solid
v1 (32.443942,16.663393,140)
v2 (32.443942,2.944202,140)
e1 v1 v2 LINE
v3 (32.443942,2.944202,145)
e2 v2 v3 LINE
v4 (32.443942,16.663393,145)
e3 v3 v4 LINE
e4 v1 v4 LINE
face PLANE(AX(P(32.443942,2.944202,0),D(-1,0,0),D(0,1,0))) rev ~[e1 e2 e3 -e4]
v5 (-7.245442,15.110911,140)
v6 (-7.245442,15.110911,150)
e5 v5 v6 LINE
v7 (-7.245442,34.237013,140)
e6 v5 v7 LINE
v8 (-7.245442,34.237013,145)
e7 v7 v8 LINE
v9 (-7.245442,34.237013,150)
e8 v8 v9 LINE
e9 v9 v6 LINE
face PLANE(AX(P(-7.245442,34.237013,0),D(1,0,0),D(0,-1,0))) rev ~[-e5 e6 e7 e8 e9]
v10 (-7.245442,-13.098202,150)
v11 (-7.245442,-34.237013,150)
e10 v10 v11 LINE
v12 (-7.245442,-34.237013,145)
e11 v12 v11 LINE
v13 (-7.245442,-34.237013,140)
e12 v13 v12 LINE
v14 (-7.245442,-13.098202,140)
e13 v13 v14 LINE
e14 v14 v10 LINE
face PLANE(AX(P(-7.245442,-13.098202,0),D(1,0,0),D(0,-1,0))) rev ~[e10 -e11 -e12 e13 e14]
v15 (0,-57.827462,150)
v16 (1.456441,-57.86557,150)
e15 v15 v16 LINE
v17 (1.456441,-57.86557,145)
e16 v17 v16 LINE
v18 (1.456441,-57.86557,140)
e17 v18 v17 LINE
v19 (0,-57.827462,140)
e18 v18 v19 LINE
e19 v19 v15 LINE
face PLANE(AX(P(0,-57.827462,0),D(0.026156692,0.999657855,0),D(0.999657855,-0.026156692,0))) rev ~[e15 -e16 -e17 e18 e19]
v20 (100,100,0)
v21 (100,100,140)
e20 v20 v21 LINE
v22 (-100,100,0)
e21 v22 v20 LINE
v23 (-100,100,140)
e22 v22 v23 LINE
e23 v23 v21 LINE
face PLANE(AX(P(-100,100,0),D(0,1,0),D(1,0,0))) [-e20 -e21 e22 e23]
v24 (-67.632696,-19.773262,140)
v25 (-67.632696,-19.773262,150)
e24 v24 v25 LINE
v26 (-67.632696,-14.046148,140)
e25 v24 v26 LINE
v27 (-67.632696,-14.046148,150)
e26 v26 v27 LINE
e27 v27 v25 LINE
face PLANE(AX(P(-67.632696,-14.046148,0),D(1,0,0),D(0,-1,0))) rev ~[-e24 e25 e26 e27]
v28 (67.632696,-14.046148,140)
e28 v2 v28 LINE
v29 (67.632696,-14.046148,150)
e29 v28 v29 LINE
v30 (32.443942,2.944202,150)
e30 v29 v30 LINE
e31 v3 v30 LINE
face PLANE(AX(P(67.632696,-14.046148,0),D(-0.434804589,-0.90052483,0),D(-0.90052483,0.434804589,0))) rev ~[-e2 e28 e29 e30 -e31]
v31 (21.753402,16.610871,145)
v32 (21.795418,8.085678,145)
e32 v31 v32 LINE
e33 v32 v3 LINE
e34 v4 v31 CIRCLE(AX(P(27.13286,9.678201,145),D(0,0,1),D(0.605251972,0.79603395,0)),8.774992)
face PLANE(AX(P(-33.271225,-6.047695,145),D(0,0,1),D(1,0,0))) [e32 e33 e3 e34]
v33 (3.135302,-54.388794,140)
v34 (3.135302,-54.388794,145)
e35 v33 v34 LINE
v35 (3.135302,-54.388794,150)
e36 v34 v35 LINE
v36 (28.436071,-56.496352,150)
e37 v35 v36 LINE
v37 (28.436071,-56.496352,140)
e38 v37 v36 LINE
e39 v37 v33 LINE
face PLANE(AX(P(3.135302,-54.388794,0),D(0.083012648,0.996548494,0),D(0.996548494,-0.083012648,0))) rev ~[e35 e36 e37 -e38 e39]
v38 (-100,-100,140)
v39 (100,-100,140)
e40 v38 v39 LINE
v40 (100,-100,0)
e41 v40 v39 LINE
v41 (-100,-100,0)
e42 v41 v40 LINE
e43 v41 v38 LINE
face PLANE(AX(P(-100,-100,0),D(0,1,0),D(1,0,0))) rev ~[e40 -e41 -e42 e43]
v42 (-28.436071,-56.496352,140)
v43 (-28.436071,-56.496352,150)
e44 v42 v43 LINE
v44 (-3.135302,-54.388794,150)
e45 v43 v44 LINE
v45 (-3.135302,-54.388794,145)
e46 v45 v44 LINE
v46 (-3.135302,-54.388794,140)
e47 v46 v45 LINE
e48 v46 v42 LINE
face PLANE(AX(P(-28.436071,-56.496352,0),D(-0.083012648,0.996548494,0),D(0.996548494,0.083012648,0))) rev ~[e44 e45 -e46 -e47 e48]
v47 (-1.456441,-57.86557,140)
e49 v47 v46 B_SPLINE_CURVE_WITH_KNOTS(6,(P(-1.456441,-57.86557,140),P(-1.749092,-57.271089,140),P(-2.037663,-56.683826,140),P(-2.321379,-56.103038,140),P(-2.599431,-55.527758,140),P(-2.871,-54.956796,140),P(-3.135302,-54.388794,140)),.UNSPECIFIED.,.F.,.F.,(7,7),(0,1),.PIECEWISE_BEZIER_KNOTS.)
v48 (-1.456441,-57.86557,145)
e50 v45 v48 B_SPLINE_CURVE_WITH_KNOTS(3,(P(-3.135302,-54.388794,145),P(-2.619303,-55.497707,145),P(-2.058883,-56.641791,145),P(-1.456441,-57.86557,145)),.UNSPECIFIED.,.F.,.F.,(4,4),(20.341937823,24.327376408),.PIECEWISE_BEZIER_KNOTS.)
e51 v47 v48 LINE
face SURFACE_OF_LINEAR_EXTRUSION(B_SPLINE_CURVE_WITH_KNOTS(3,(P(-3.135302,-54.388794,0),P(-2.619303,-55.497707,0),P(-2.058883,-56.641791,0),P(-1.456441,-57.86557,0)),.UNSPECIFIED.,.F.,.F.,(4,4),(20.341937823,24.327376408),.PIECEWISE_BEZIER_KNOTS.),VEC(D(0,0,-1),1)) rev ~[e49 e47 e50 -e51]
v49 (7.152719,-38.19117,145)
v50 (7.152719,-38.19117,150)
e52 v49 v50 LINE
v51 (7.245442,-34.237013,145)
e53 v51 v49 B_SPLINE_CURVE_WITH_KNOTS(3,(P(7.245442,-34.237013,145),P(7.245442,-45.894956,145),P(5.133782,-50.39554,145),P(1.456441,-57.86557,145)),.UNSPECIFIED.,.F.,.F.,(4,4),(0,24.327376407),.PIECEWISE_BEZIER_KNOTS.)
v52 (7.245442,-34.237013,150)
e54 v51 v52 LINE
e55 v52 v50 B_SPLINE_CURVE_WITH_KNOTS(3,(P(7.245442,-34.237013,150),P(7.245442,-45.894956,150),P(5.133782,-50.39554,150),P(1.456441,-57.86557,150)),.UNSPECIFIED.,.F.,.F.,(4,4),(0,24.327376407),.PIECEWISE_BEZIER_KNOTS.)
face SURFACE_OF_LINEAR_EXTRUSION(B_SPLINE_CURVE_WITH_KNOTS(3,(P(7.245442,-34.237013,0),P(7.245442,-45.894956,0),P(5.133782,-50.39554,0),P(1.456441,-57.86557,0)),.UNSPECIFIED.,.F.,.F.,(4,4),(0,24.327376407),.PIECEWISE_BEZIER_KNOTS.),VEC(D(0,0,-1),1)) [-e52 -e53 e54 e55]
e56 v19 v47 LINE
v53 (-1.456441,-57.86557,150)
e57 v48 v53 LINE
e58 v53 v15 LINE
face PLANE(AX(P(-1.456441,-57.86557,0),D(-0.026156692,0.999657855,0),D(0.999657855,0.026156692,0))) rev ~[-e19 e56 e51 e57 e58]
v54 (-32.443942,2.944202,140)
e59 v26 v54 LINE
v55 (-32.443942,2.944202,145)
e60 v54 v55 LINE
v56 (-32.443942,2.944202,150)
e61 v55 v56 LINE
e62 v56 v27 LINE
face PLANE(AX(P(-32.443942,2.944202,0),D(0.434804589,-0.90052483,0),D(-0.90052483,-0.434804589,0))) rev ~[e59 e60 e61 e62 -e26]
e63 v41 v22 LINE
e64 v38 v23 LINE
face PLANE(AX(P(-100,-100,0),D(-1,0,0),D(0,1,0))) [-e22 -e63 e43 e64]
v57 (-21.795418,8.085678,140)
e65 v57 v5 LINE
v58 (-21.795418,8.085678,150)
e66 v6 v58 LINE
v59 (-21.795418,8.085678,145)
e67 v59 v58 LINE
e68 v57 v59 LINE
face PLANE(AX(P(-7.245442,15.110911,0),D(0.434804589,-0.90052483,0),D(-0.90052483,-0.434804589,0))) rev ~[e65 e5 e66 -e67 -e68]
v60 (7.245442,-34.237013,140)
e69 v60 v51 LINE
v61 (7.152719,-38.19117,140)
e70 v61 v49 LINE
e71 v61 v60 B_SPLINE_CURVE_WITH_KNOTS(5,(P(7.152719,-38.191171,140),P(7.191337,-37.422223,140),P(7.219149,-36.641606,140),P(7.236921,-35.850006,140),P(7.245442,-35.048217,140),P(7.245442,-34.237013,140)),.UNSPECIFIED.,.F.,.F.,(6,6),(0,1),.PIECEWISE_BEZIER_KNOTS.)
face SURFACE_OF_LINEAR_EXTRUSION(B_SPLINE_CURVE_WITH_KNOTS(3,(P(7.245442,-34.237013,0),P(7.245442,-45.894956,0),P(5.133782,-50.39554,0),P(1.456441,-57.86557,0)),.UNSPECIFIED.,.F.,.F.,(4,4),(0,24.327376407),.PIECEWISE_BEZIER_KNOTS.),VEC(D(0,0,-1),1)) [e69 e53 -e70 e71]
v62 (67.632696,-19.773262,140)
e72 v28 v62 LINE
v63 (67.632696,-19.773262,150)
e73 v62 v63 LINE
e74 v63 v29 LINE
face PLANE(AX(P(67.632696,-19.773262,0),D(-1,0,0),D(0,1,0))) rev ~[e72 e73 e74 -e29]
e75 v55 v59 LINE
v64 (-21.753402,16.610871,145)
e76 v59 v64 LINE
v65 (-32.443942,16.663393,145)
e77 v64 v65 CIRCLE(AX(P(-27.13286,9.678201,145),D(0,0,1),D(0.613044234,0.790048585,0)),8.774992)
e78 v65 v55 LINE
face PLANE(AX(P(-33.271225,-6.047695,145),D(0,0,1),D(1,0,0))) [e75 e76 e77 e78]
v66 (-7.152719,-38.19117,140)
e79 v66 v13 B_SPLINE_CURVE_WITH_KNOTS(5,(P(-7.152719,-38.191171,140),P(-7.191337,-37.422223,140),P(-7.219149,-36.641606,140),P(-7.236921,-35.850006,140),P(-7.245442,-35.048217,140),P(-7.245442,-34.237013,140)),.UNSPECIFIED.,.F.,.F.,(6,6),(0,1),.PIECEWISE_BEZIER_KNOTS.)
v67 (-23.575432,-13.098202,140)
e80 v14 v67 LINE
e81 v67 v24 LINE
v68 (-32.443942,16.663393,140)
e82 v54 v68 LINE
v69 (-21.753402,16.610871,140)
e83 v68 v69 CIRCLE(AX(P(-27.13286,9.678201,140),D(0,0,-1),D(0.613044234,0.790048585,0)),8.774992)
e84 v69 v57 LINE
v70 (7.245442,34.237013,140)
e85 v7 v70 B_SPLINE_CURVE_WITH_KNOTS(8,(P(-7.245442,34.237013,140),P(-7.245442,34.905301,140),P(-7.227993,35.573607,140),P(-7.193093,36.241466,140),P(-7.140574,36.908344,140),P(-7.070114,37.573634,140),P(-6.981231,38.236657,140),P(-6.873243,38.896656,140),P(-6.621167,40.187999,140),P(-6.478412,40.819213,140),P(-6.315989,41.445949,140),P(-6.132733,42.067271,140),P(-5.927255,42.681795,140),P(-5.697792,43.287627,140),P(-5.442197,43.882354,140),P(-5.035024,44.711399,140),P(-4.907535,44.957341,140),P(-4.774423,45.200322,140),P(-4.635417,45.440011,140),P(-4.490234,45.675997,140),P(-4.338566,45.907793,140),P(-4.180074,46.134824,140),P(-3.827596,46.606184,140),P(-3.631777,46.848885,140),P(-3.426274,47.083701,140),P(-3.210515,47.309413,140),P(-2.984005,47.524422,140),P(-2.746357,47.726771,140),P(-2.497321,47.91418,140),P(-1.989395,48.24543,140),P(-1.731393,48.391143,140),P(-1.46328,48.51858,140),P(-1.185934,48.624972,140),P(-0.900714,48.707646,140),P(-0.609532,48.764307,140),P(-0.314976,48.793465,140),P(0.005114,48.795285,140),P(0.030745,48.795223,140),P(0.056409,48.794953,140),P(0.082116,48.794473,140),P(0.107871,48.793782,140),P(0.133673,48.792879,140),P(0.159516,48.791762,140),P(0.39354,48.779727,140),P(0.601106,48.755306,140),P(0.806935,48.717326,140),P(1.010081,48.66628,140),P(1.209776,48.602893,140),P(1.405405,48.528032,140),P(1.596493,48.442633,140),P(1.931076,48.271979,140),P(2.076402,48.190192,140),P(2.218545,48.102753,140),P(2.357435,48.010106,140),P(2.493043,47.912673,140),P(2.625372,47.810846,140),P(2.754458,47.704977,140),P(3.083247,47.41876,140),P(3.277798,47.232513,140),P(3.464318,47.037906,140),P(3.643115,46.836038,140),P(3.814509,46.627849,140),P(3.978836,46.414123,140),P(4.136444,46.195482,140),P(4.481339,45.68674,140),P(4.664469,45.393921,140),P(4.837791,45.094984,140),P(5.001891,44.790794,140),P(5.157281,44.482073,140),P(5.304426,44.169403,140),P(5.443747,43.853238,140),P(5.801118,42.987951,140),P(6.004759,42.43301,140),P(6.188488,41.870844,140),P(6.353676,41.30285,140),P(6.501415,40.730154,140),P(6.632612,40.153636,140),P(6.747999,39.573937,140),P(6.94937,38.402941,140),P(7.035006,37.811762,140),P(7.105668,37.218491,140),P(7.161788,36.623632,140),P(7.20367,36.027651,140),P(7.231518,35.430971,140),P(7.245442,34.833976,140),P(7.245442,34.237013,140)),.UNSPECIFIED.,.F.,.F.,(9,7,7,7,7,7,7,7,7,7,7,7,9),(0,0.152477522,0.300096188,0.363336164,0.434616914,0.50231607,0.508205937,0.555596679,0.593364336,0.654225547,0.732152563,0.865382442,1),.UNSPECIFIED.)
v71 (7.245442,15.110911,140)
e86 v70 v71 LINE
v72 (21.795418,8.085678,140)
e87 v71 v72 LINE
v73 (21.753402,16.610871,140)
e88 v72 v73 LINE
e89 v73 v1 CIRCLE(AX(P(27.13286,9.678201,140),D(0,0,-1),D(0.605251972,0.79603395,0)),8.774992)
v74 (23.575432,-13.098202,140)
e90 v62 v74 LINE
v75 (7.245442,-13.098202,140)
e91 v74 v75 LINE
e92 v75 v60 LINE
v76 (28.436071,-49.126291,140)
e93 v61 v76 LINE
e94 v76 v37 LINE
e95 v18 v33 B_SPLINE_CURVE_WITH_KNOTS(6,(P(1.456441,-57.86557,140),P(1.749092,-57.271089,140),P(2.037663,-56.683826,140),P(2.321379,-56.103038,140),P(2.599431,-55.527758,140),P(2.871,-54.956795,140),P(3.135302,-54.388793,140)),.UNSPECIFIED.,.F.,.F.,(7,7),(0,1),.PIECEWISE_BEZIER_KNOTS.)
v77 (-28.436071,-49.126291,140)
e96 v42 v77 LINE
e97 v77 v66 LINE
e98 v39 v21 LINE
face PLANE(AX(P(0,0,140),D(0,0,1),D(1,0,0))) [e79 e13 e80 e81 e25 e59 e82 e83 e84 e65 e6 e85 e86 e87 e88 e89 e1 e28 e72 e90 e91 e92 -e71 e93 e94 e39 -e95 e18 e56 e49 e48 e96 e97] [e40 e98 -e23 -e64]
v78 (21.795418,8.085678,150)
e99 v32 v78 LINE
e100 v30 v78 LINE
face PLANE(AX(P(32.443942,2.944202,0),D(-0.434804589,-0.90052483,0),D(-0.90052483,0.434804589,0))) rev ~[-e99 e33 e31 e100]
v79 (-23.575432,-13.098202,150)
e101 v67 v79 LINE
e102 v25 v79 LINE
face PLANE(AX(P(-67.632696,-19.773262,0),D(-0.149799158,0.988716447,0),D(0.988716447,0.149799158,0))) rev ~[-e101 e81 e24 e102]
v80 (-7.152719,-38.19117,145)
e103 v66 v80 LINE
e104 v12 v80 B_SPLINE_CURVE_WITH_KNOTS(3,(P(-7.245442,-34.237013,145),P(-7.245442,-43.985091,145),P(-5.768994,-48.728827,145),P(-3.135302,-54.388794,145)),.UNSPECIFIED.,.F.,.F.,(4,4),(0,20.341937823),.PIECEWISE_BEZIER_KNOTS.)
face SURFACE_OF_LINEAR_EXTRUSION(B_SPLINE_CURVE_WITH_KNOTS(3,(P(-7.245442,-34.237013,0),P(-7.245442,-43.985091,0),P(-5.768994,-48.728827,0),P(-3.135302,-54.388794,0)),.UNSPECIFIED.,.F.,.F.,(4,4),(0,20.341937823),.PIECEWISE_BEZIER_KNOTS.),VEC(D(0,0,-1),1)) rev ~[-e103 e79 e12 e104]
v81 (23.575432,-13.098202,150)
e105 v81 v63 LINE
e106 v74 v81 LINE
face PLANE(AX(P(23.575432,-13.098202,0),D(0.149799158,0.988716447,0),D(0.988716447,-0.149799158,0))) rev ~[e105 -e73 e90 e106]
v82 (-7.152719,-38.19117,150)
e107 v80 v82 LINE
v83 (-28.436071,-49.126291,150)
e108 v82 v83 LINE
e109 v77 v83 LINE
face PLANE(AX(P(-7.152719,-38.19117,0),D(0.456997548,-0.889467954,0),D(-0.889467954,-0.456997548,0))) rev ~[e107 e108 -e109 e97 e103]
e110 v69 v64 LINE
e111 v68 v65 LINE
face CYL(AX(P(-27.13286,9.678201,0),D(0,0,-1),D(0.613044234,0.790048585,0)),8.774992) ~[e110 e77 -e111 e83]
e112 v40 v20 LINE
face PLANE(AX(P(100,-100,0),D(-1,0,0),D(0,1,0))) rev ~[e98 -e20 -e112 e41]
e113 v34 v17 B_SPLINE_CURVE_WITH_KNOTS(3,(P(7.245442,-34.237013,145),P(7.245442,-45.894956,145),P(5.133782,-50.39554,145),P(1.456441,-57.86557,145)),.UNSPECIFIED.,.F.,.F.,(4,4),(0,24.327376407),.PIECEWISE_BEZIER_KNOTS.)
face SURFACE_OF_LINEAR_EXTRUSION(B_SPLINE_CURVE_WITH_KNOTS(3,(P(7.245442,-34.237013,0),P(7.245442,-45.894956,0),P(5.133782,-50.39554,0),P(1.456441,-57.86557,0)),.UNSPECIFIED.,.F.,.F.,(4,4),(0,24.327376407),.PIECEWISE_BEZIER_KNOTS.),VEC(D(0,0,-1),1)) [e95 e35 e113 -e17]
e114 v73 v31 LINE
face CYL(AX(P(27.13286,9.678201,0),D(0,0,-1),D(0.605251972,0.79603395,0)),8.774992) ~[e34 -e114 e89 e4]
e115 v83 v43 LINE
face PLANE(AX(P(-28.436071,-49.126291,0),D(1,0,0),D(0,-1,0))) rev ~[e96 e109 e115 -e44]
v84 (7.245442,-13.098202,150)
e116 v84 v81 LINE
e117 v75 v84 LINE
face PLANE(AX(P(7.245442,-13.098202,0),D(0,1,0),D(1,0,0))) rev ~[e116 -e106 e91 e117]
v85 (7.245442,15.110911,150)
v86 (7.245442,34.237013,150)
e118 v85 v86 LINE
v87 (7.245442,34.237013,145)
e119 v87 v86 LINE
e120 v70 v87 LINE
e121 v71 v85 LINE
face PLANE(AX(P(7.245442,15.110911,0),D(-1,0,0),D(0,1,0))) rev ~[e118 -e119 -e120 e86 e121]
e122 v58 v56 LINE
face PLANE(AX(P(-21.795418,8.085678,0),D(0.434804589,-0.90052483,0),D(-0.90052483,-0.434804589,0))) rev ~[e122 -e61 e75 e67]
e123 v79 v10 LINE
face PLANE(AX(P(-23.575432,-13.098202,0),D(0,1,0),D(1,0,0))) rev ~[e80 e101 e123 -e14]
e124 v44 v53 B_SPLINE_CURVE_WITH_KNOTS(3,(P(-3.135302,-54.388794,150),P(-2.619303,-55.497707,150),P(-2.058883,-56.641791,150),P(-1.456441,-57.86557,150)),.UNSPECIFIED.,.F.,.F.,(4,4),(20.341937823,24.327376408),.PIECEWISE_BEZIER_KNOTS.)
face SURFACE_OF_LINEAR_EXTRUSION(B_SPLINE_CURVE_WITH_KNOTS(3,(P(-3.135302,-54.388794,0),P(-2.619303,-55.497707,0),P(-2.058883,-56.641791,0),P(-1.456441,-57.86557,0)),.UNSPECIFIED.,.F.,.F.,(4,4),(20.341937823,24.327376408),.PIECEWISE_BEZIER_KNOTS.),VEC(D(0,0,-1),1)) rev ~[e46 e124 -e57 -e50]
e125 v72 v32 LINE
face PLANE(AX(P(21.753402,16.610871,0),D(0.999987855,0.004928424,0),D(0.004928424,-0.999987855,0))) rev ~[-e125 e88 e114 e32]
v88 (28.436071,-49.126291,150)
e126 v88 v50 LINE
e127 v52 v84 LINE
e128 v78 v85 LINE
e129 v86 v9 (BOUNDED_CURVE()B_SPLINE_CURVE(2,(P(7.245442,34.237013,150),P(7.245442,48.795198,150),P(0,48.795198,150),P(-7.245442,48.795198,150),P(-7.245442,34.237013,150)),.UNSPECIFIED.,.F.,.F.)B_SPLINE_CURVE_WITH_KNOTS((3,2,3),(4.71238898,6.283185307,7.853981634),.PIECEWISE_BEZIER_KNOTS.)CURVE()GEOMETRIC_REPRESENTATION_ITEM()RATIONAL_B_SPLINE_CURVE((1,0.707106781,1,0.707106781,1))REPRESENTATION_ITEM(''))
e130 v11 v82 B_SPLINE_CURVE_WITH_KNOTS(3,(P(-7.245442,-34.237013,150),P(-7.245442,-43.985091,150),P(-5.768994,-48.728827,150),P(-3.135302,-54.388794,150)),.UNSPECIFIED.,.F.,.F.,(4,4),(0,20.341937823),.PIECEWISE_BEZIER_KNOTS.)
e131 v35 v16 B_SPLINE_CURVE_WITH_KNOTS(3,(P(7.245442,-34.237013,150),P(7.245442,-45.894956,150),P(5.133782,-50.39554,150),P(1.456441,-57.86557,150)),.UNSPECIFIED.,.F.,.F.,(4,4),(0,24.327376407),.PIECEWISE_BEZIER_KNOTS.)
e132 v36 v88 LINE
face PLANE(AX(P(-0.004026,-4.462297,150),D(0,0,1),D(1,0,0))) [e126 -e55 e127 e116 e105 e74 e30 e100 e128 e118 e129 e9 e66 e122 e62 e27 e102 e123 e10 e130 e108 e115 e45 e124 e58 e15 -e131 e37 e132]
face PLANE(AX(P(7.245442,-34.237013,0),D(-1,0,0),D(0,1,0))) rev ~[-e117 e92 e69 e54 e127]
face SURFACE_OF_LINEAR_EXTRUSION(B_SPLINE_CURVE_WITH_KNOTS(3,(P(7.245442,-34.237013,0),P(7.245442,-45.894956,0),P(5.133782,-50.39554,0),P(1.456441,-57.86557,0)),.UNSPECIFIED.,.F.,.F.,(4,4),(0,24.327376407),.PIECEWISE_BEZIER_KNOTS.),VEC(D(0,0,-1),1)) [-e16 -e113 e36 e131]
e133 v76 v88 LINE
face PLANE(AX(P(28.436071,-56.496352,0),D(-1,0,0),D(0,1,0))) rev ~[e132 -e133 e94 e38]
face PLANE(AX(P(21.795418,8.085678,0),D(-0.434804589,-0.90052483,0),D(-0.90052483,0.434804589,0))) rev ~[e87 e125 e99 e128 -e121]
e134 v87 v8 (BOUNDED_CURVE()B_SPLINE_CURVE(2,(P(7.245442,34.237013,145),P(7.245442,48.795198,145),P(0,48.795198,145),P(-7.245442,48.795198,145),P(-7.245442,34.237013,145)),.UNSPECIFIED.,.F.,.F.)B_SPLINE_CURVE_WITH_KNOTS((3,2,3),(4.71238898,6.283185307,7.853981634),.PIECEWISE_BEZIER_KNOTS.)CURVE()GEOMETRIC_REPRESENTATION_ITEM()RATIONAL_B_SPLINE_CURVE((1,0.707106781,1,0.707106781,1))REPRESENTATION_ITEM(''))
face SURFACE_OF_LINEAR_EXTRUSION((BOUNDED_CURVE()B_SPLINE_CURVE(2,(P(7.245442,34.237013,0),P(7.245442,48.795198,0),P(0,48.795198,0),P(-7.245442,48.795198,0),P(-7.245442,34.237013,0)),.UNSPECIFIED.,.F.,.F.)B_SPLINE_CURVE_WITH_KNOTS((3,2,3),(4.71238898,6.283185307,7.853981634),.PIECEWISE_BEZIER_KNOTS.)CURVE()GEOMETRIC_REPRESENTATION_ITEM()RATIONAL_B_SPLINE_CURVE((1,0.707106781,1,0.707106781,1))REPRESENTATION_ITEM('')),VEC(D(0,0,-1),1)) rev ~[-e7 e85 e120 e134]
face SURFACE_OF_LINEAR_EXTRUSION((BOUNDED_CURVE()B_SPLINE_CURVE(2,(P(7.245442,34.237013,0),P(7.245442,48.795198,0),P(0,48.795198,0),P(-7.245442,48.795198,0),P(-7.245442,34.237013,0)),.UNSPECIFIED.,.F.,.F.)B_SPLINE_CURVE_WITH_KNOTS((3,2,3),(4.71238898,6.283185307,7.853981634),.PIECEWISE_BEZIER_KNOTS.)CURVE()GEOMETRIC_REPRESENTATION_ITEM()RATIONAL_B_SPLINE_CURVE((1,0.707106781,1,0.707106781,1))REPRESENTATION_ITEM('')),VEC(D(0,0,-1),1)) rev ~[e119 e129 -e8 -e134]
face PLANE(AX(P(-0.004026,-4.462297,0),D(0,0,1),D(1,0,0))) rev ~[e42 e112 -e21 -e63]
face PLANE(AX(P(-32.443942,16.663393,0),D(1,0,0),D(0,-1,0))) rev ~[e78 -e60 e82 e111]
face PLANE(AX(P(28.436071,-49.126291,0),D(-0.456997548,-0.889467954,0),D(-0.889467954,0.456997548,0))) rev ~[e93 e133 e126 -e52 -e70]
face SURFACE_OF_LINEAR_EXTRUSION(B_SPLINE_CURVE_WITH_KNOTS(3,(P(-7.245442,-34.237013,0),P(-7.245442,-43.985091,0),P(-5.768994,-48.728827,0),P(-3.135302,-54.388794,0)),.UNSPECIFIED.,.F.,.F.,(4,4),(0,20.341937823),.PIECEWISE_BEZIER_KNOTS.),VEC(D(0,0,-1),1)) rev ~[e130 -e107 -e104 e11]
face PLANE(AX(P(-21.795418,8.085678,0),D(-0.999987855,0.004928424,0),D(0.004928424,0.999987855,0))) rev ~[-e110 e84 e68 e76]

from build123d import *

# Parameters (mm, degrees)
F0_W     = 200
F0_H     = 200
F1_DEPTH = 140
F2_DEPTH = 140
F3_DEPTH = 145
F4_DEPTH = 150
F5_DEPTH = 130


with BuildPart() as f1:
    # F0 (on Top) → F1 (new body)
    with BuildSketch(Plane.XY):
        Rectangle(F0_W, F0_H)
        with BuildLine():
            add(Edge.make_bspline(
                [(7.2454415782, 34.2370129494), (7.2454415782, 48.7951978413), (0, 48.7951978413), (-7.2454415782, 48.7951978413), (-7.2454415782, 34.2370129494)],
                knots=[4.7123889804, 4.7123889804, 4.7123889804, 6.2831853072, 6.2831853072, 7.853981634, 7.853981634, 7.853981634], degree=2, weights=[1, 0.7071067812, 1, 0.7071067812, 1]))
            Line((7.2454415782, 34.2370129494), (7.2454415782, 15.1109112501))
            Line((7.2454415782, 15.1109112501), (21.7954180783, 8.0856784731))
            Line((21.7954180783, 8.0856784731), (21.7534018032, 16.610871316))
            ThreePointArc((21.7534018032, 16.610871316), (27.0897500943, 18.4530874606), (32.4439415934, 16.6633928502))
            Line((32.4439415934, 16.6633928502), (32.4439415934, 2.9442023734))
            Line((32.4439415934, 2.9442023734), (67.6326961509, -14.0461475353))
            Line((67.6326961509, -14.0461475353), (67.6326961509, -19.7732619358))
            Line((67.6326961509, -19.7732619358), (23.5754315722, -13.0982023901))
            Line((23.5754315722, -13.0982023901), (7.2454415782, -13.0982023901))
            Line((7.2454415782, -13.0982023901), (7.2454415782, -34.2370129494))
            add(Edge.make_bspline(
                [(7.2454415782, -34.2370129494), (7.2454415782, -35.6548618262), (7.2142066873, -36.9668416965), (7.1527191063, -38.1911703848)],
                knots=[0, 0, 0, 0, 2.9587160624, 2.9587160624, 2.9587160624, 2.9587160624], degree=3))
            Line((7.1527191063, -38.1911703848), (28.4360707366, -49.1262911818))
            Line((28.4360707366, -49.1262911818), (28.4360707366, -56.4963517135))
            Line((28.4360707366, -56.4963517135), (3.1353018663, -54.3887936468))
            add(Edge.make_bspline(
                [(3.1353018663, -54.3887936468), (2.61930295, -55.4977071467), (2.0588825896, -56.641790632), (1.4564413795, -57.8655702387)],
                knots=[20.3419378234, 20.3419378234, 20.3419378234, 20.3419378234, 24.3273764075, 24.3273764075, 24.3273764075, 24.3273764075], degree=3))
            Line((1.4564413795, -57.8655702387), (0, -57.8274615109))
            Line((0, -57.8274615109), (-1.4564413795, -57.8655702387))
            add(Edge.make_bspline(
                [(-3.1353018663, -54.3887936468), (-2.61930295, -55.4977071467), (-2.0588825896, -56.641790632), (-1.4564413795, -57.8655702387)],
                knots=[20.3419378234, 20.3419378234, 20.3419378234, 20.3419378234, 24.3273764075, 24.3273764075, 24.3273764075, 24.3273764075], degree=3))
            Line((-3.1353018663, -54.3887936468), (-28.4360707366, -56.4963517135))
            Line((-28.4360707366, -56.4963517135), (-28.4360707366, -49.1262911818))
            Line((-28.4360707366, -49.1262911818), (-7.1527191063, -38.1911703848))
            add(Edge.make_bspline(
                [(-7.2454415782, -34.2370129494), (-7.2454415782, -35.6548618262), (-7.2142066873, -36.9668416965), (-7.1527191063, -38.1911703848)],
                knots=[0, 0, 0, 0, 2.9587160624, 2.9587160624, 2.9587160624, 2.9587160624], degree=3))
            Line((-7.2454415782, -34.2370129494), (-7.2454415782, -13.0982023901))
            Line((-7.2454415782, -13.0982023901), (-23.5754315722, -13.0982023901))
            Line((-23.5754315722, -13.0982023901), (-67.6326961509, -19.7732619358))
            Line((-67.6326961509, -19.7732619358), (-67.6326961509, -14.0461475353))
            Line((-67.6326961509, -14.0461475353), (-32.4439415934, 2.9442023734))
            Line((-32.4439415934, 2.9442023734), (-32.4439415934, 16.6633928502))
            ThreePointArc((-32.4439415934, 16.6633928502), (-27.0897500943, 18.4530874606), (-21.7534018032, 16.610871316))
            Line((-21.7534018032, 16.610871316), (-21.7954180783, 8.0856784731))
            Line((-21.7954180783, 8.0856784731), (-7.2454415782, 15.1109112501))
            Line((-7.2454415782, 15.1109112501), (-7.2454415782, 34.2370129494))
        make_face(mode=Mode.SUBTRACT)
        Polygon((-7.2454415782, -13.0982023901), (-7.2454415782, 15.1109112501), (-21.7954180783, 8.0856784731), (-32.4439415934, 2.9442023734), (-67.6326961509, -14.0461475353), (-67.6326961509, -19.7732619358), (-23.5754315722, -13.0982023901), align=None)
        with BuildLine():
            Line((-32.4439415934, 2.9442023734), (-21.7954180783, 8.0856784731))
            Line((-21.7954180783, 8.0856784731), (-21.7534018032, 16.610871316))
            ThreePointArc((-21.7534018032, 16.610871316), (-27.0897500943, 18.4530874606), (-32.4439415934, 16.6633928502))
            Line((-32.4439415934, 16.6633928502), (-32.4439415934, 2.9442023734))
        make_face()
        with BuildLine():
            add(Edge.make_bspline(
                [(-7.1527191063, -38.1911703848), (-6.791463672, -45.384417945), (-5.3859258319, -49.5520639177), (-3.1353018663, -54.3887936468)],
                knots=[2.9587160624, 2.9587160624, 2.9587160624, 2.9587160624, 20.3419378234, 20.3419378234, 20.3419378234, 20.3419378234], degree=3))
            Line((-7.1527191063, -38.1911703848), (-28.4360707366, -49.1262911818))
            Line((-28.4360707366, -49.1262911818), (-28.4360707366, -56.4963517135))
            Line((-28.4360707366, -56.4963517135), (-3.1353018663, -54.3887936468))
        make_face()
        with BuildLine():
            Line((28.4360707366, -49.1262911818), (7.1527191063, -38.1911703848))
            add(Edge.make_bspline(
                [(7.1527191063, -38.1911703848), (6.791463672, -45.384417945), (5.3859258319, -49.5520639177), (3.1353018663, -54.3887936468)],
                knots=[2.9587160624, 2.9587160624, 2.9587160624, 2.9587160624, 20.3419378234, 20.3419378234, 20.3419378234, 20.3419378234], degree=3))
            Line((3.1353018663, -54.3887936468), (28.4360707366, -56.4963517135))
            Line((28.4360707366, -56.4963517135), (28.4360707366, -49.1262911818))
        make_face()
        with BuildLine():
            Line((21.7534018032, 16.610871316), (21.7954180783, 8.0856784731))
            Line((21.7954180783, 8.0856784731), (32.4439415934, 2.9442023734))
            Line((32.4439415934, 2.9442023734), (32.4439415934, 16.6633928502))
            ThreePointArc((32.4439415934, 16.6633928502), (27.0897500943, 18.4530874606), (21.7534018032, 16.610871316))
        make_face()
    extrude(amount=F1_DEPTH)

    # F0 (on Top) → F2 (join)
    with BuildSketch(Plane.XY):
        with BuildLine():
            Line((7.2454415782, 15.1109112501), (7.2454415782, 34.2370129494))
            add(Edge.make_bspline(
                [(7.2454415782, 34.2370129494), (7.2454415782, 48.7951978413), (0, 48.7951978413), (-7.2454415782, 48.7951978413), (-7.2454415782, 34.2370129494)],
                knots=[4.7123889804, 4.7123889804, 4.7123889804, 6.2831853072, 6.2831853072, 7.853981634, 7.853981634, 7.853981634], degree=2, weights=[1, 0.7071067812, 1, 0.7071067812, 1]))
            Line((-7.2454415782, 34.2370129494), (-7.2454415782, 15.1109112501))
            Line((-7.2454415782, 15.1109112501), (-7.2454415782, -13.0982023901))
            Line((-7.2454415782, -13.0982023901), (-7.2454415782, -34.2370129494))
            add(Edge.make_bspline(
                [(-7.2454415782, -34.2370129494), (-7.2454415782, -35.6548618262), (-7.2142066873, -36.9668416965), (-7.1527191063, -38.1911703848)],
                knots=[0, 0, 0, 0, 2.9587160624, 2.9587160624, 2.9587160624, 2.9587160624], degree=3))
            add(Edge.make_bspline(
                [(-7.1527191063, -38.1911703848), (-6.791463672, -45.384417945), (-5.3859258319, -49.5520639177), (-3.1353018663, -54.3887936468)],
                knots=[2.9587160624, 2.9587160624, 2.9587160624, 2.9587160624, 20.3419378234, 20.3419378234, 20.3419378234, 20.3419378234], degree=3))
            add(Edge.make_bspline(
                [(-3.1353018663, -54.3887936468), (-2.61930295, -55.4977071467), (-2.0588825896, -56.641790632), (-1.4564413795, -57.8655702387)],
                knots=[20.3419378234, 20.3419378234, 20.3419378234, 20.3419378234, 24.3273764075, 24.3273764075, 24.3273764075, 24.3273764075], degree=3))
            Line((-1.4564413795, -57.8655702387), (0, -57.8274615109))
            Line((0, -57.8274615109), (1.4564413795, -57.8655702387))
            add(Edge.make_bspline(
                [(3.1353018663, -54.3887936468), (2.61930295, -55.4977071467), (2.0588825896, -56.641790632), (1.4564413795, -57.8655702387)],
                knots=[20.3419378234, 20.3419378234, 20.3419378234, 20.3419378234, 24.3273764075, 24.3273764075, 24.3273764075, 24.3273764075], degree=3))
            add(Edge.make_bspline(
                [(7.1527191063, -38.1911703848), (6.791463672, -45.384417945), (5.3859258319, -49.5520639177), (3.1353018663, -54.3887936468)],
                knots=[2.9587160624, 2.9587160624, 2.9587160624, 2.9587160624, 20.3419378234, 20.3419378234, 20.3419378234, 20.3419378234], degree=3))
            add(Edge.make_bspline(
                [(7.2454415782, -34.2370129494), (7.2454415782, -35.6548618262), (7.2142066873, -36.9668416965), (7.1527191063, -38.1911703848)],
                knots=[0, 0, 0, 0, 2.9587160624, 2.9587160624, 2.9587160624, 2.9587160624], degree=3))
            Line((7.2454415782, -34.2370129494), (7.2454415782, -13.0982023901))
            Line((7.2454415782, -13.0982023901), (7.2454415782, 15.1109112501))
        make_face()
        Polygon((21.7954180783, 8.0856784731), (7.2454415782, 15.1109112501), (7.2454415782, -13.0982023901), (23.5754315722, -13.0982023901), (67.6326961509, -19.7732619358), (67.6326961509, -14.0461475353), (32.4439415934, 2.9442023734), align=None)
    extrude(amount=F2_DEPTH)

    # F0 (on Top) → F3 (join)
    with BuildSketch(Plane.XY):
        Polygon((-7.2454415782, -13.0982023901), (-7.2454415782, 15.1109112501), (-21.7954180783, 8.0856784731), (-32.4439415934, 2.9442023734), (-67.6326961509, -14.0461475353), (-67.6326961509, -19.7732619358), (-23.5754315722, -13.0982023901), align=None)
        with BuildLine():
            Line((-32.4439415934, 2.9442023734), (-21.7954180783, 8.0856784731))
            Line((-21.7954180783, 8.0856784731), (-21.7534018032, 16.610871316))
            ThreePointArc((-21.7534018032, 16.610871316), (-27.0897500943, 18.4530874606), (-32.4439415934, 16.6633928502))
            Line((-32.4439415934, 16.6633928502), (-32.4439415934, 2.9442023734))
        make_face()
        with BuildLine():
            Line((7.2454415782, 15.1109112501), (7.2454415782, 34.2370129494))
            add(Edge.make_bspline(
                [(7.2454415782, 34.2370129494), (7.2454415782, 48.7951978413), (0, 48.7951978413), (-7.2454415782, 48.7951978413), (-7.2454415782, 34.2370129494)],
                knots=[4.7123889804, 4.7123889804, 4.7123889804, 6.2831853072, 6.2831853072, 7.853981634, 7.853981634, 7.853981634], degree=2, weights=[1, 0.7071067812, 1, 0.7071067812, 1]))
            Line((-7.2454415782, 34.2370129494), (-7.2454415782, 15.1109112501))
            Line((-7.2454415782, 15.1109112501), (-7.2454415782, -13.0982023901))
            Line((-7.2454415782, -13.0982023901), (-7.2454415782, -34.2370129494))
            add(Edge.make_bspline(
                [(-7.2454415782, -34.2370129494), (-7.2454415782, -35.6548618262), (-7.2142066873, -36.9668416965), (-7.1527191063, -38.1911703848)],
                knots=[0, 0, 0, 0, 2.9587160624, 2.9587160624, 2.9587160624, 2.9587160624], degree=3))
            add(Edge.make_bspline(
                [(-7.1527191063, -38.1911703848), (-6.791463672, -45.384417945), (-5.3859258319, -49.5520639177), (-3.1353018663, -54.3887936468)],
                knots=[2.9587160624, 2.9587160624, 2.9587160624, 2.9587160624, 20.3419378234, 20.3419378234, 20.3419378234, 20.3419378234], degree=3))
            add(Edge.make_bspline(
                [(-3.1353018663, -54.3887936468), (-2.61930295, -55.4977071467), (-2.0588825896, -56.641790632), (-1.4564413795, -57.8655702387)],
                knots=[20.3419378234, 20.3419378234, 20.3419378234, 20.3419378234, 24.3273764075, 24.3273764075, 24.3273764075, 24.3273764075], degree=3))
            Line((-1.4564413795, -57.8655702387), (0, -57.8274615109))
            Line((0, -57.8274615109), (1.4564413795, -57.8655702387))
            add(Edge.make_bspline(
                [(3.1353018663, -54.3887936468), (2.61930295, -55.4977071467), (2.0588825896, -56.641790632), (1.4564413795, -57.8655702387)],
                knots=[20.3419378234, 20.3419378234, 20.3419378234, 20.3419378234, 24.3273764075, 24.3273764075, 24.3273764075, 24.3273764075], degree=3))
            add(Edge.make_bspline(
                [(7.1527191063, -38.1911703848), (6.791463672, -45.384417945), (5.3859258319, -49.5520639177), (3.1353018663, -54.3887936468)],
                knots=[2.9587160624, 2.9587160624, 2.9587160624, 2.9587160624, 20.3419378234, 20.3419378234, 20.3419378234, 20.3419378234], degree=3))
            add(Edge.make_bspline(
                [(7.2454415782, -34.2370129494), (7.2454415782, -35.6548618262), (7.2142066873, -36.9668416965), (7.1527191063, -38.1911703848)],
                knots=[0, 0, 0, 0, 2.9587160624, 2.9587160624, 2.9587160624, 2.9587160624], degree=3))
            Line((7.2454415782, -34.2370129494), (7.2454415782, -13.0982023901))
            Line((7.2454415782, -13.0982023901), (7.2454415782, 15.1109112501))
        make_face()
        Polygon((21.7954180783, 8.0856784731), (7.2454415782, 15.1109112501), (7.2454415782, -13.0982023901), (23.5754315722, -13.0982023901), (67.6326961509, -19.7732619358), (67.6326961509, -14.0461475353), (32.4439415934, 2.9442023734), align=None)
        with BuildLine():
            Line((21.7534018032, 16.610871316), (21.7954180783, 8.0856784731))
            Line((21.7954180783, 8.0856784731), (32.4439415934, 2.9442023734))
            Line((32.4439415934, 2.9442023734), (32.4439415934, 16.6633928502))
            ThreePointArc((32.4439415934, 16.6633928502), (27.0897500943, 18.4530874606), (21.7534018032, 16.610871316))
        make_face()
        with BuildLine():
            Line((28.4360707366, -49.1262911818), (7.1527191063, -38.1911703848))
            add(Edge.make_bspline(
                [(7.1527191063, -38.1911703848), (6.791463672, -45.384417945), (5.3859258319, -49.5520639177), (3.1353018663, -54.3887936468)],
                knots=[2.9587160624, 2.9587160624, 2.9587160624, 2.9587160624, 20.3419378234, 20.3419378234, 20.3419378234, 20.3419378234], degree=3))
            Line((3.1353018663, -54.3887936468), (28.4360707366, -56.4963517135))
            Line((28.4360707366, -56.4963517135), (28.4360707366, -49.1262911818))
        make_face()
        with BuildLine():
            add(Edge.make_bspline(
                [(-7.1527191063, -38.1911703848), (-6.791463672, -45.384417945), (-5.3859258319, -49.5520639177), (-3.1353018663, -54.3887936468)],
                knots=[2.9587160624, 2.9587160624, 2.9587160624, 2.9587160624, 20.3419378234, 20.3419378234, 20.3419378234, 20.3419378234], degree=3))
            Line((-7.1527191063, -38.1911703848), (-28.4360707366, -49.1262911818))
            Line((-28.4360707366, -49.1262911818), (-28.4360707366, -56.4963517135))
            Line((-28.4360707366, -56.4963517135), (-3.1353018663, -54.3887936468))
        make_face()
    extrude(amount=F3_DEPTH)

    # F0 (on Top) → F4 (join)
    with BuildSketch(Plane.XY):
        with BuildLine():
            Line((7.2454415782, 15.1109112501), (7.2454415782, 34.2370129494))
            add(Edge.make_bspline(
                [(7.2454415782, 34.2370129494), (7.2454415782, 48.7951978413), (0, 48.7951978413), (-7.2454415782, 48.7951978413), (-7.2454415782, 34.2370129494)],
                knots=[4.7123889804, 4.7123889804, 4.7123889804, 6.2831853072, 6.2831853072, 7.853981634, 7.853981634, 7.853981634], degree=2, weights=[1, 0.7071067812, 1, 0.7071067812, 1]))
            Line((-7.2454415782, 34.2370129494), (-7.2454415782, 15.1109112501))
            Line((-7.2454415782, 15.1109112501), (-7.2454415782, -13.0982023901))
            Line((-7.2454415782, -13.0982023901), (-7.2454415782, -34.2370129494))
            add(Edge.make_bspline(
                [(-7.2454415782, -34.2370129494), (-7.2454415782, -35.6548618262), (-7.2142066873, -36.9668416965), (-7.1527191063, -38.1911703848)],
                knots=[0, 0, 0, 0, 2.9587160624, 2.9587160624, 2.9587160624, 2.9587160624], degree=3))
            add(Edge.make_bspline(
                [(-7.1527191063, -38.1911703848), (-6.791463672, -45.384417945), (-5.3859258319, -49.5520639177), (-3.1353018663, -54.3887936468)],
                knots=[2.9587160624, 2.9587160624, 2.9587160624, 2.9587160624, 20.3419378234, 20.3419378234, 20.3419378234, 20.3419378234], degree=3))
            add(Edge.make_bspline(
                [(-3.1353018663, -54.3887936468), (-2.61930295, -55.4977071467), (-2.0588825896, -56.641790632), (-1.4564413795, -57.8655702387)],
                knots=[20.3419378234, 20.3419378234, 20.3419378234, 20.3419378234, 24.3273764075, 24.3273764075, 24.3273764075, 24.3273764075], degree=3))
            Line((-1.4564413795, -57.8655702387), (0, -57.8274615109))
            Line((0, -57.8274615109), (1.4564413795, -57.8655702387))
            add(Edge.make_bspline(
                [(3.1353018663, -54.3887936468), (2.61930295, -55.4977071467), (2.0588825896, -56.641790632), (1.4564413795, -57.8655702387)],
                knots=[20.3419378234, 20.3419378234, 20.3419378234, 20.3419378234, 24.3273764075, 24.3273764075, 24.3273764075, 24.3273764075], degree=3))
            add(Edge.make_bspline(
                [(7.1527191063, -38.1911703848), (6.791463672, -45.384417945), (5.3859258319, -49.5520639177), (3.1353018663, -54.3887936468)],
                knots=[2.9587160624, 2.9587160624, 2.9587160624, 2.9587160624, 20.3419378234, 20.3419378234, 20.3419378234, 20.3419378234], degree=3))
            add(Edge.make_bspline(
                [(7.2454415782, -34.2370129494), (7.2454415782, -35.6548618262), (7.2142066873, -36.9668416965), (7.1527191063, -38.1911703848)],
                knots=[0, 0, 0, 0, 2.9587160624, 2.9587160624, 2.9587160624, 2.9587160624], degree=3))
            Line((7.2454415782, -34.2370129494), (7.2454415782, -13.0982023901))
            Line((7.2454415782, -13.0982023901), (7.2454415782, 15.1109112501))
        make_face()
        Polygon((21.7954180783, 8.0856784731), (7.2454415782, 15.1109112501), (7.2454415782, -13.0982023901), (23.5754315722, -13.0982023901), (67.6326961509, -19.7732619358), (67.6326961509, -14.0461475353), (32.4439415934, 2.9442023734), align=None)
        Polygon((-7.2454415782, -13.0982023901), (-7.2454415782, 15.1109112501), (-21.7954180783, 8.0856784731), (-32.4439415934, 2.9442023734), (-67.6326961509, -14.0461475353), (-67.6326961509, -19.7732619358), (-23.5754315722, -13.0982023901), align=None)
        with BuildLine():
            Line((28.4360707366, -49.1262911818), (7.1527191063, -38.1911703848))
            add(Edge.make_bspline(
                [(7.1527191063, -38.1911703848), (6.791463672, -45.384417945), (5.3859258319, -49.5520639177), (3.1353018663, -54.3887936468)],
                knots=[2.9587160624, 2.9587160624, 2.9587160624, 2.9587160624, 20.3419378234, 20.3419378234, 20.3419378234, 20.3419378234], degree=3))
            Line((3.1353018663, -54.3887936468), (28.4360707366, -56.4963517135))
            Line((28.4360707366, -56.4963517135), (28.4360707366, -49.1262911818))
        make_face()
        with BuildLine():
            add(Edge.make_bspline(
                [(-7.1527191063, -38.1911703848), (-6.791463672, -45.384417945), (-5.3859258319, -49.5520639177), (-3.1353018663, -54.3887936468)],
                knots=[2.9587160624, 2.9587160624, 2.9587160624, 2.9587160624, 20.3419378234, 20.3419378234, 20.3419378234, 20.3419378234], degree=3))
            Line((-7.1527191063, -38.1911703848), (-28.4360707366, -49.1262911818))
            Line((-28.4360707366, -49.1262911818), (-28.4360707366, -56.4963517135))
            Line((-28.4360707366, -56.4963517135), (-3.1353018663, -54.3887936468))
        make_face()
    extrude(amount=F4_DEPTH)

    # F0 (on Top) → F5 (join)
    with BuildSketch(Plane.XY):
        with BuildLine():
            Line((7.2454415782, 15.1109112501), (7.2454415782, 34.2370129494))
            add(Edge.make_bspline(
                [(7.2454415782, 34.2370129494), (7.2454415782, 48.7951978413), (0, 48.7951978413), (-7.2454415782, 48.7951978413), (-7.2454415782, 34.2370129494)],
                knots=[4.7123889804, 4.7123889804, 4.7123889804, 6.2831853072, 6.2831853072, 7.853981634, 7.853981634, 7.853981634], degree=2, weights=[1, 0.7071067812, 1, 0.7071067812, 1]))
            Line((-7.2454415782, 34.2370129494), (-7.2454415782, 15.1109112501))
            Line((-7.2454415782, 15.1109112501), (-7.2454415782, -13.0982023901))
            Line((-7.2454415782, -13.0982023901), (-7.2454415782, -34.2370129494))
            add(Edge.make_bspline(
                [(-7.2454415782, -34.2370129494), (-7.2454415782, -35.6548618262), (-7.2142066873, -36.9668416965), (-7.1527191063, -38.1911703848)],
                knots=[0, 0, 0, 0, 2.9587160624, 2.9587160624, 2.9587160624, 2.9587160624], degree=3))
            add(Edge.make_bspline(
                [(-7.1527191063, -38.1911703848), (-6.791463672, -45.384417945), (-5.3859258319, -49.5520639177), (-3.1353018663, -54.3887936468)],
                knots=[2.9587160624, 2.9587160624, 2.9587160624, 2.9587160624, 20.3419378234, 20.3419378234, 20.3419378234, 20.3419378234], degree=3))
            add(Edge.make_bspline(
                [(-3.1353018663, -54.3887936468), (-2.61930295, -55.4977071467), (-2.0588825896, -56.641790632), (-1.4564413795, -57.8655702387)],
                knots=[20.3419378234, 20.3419378234, 20.3419378234, 20.3419378234, 24.3273764075, 24.3273764075, 24.3273764075, 24.3273764075], degree=3))
            Line((-1.4564413795, -57.8655702387), (0, -57.8274615109))
            Line((0, -57.8274615109), (1.4564413795, -57.8655702387))
            add(Edge.make_bspline(
                [(3.1353018663, -54.3887936468), (2.61930295, -55.4977071467), (2.0588825896, -56.641790632), (1.4564413795, -57.8655702387)],
                knots=[20.3419378234, 20.3419378234, 20.3419378234, 20.3419378234, 24.3273764075, 24.3273764075, 24.3273764075, 24.3273764075], degree=3))
            add(Edge.make_bspline(
                [(7.1527191063, -38.1911703848), (6.791463672, -45.384417945), (5.3859258319, -49.5520639177), (3.1353018663, -54.3887936468)],
                knots=[2.9587160624, 2.9587160624, 2.9587160624, 2.9587160624, 20.3419378234, 20.3419378234, 20.3419378234, 20.3419378234], degree=3))
            add(Edge.make_bspline(
                [(7.2454415782, -34.2370129494), (7.2454415782, -35.6548618262), (7.2142066873, -36.9668416965), (7.1527191063, -38.1911703848)],
                knots=[0, 0, 0, 0, 2.9587160624, 2.9587160624, 2.9587160624, 2.9587160624], degree=3))
            Line((7.2454415782, -34.2370129494), (7.2454415782, -13.0982023901))
            Line((7.2454415782, -13.0982023901), (7.2454415782, 15.1109112501))
        make_face()
    extrude(amount=F5_DEPTH)


solid = f1.part
